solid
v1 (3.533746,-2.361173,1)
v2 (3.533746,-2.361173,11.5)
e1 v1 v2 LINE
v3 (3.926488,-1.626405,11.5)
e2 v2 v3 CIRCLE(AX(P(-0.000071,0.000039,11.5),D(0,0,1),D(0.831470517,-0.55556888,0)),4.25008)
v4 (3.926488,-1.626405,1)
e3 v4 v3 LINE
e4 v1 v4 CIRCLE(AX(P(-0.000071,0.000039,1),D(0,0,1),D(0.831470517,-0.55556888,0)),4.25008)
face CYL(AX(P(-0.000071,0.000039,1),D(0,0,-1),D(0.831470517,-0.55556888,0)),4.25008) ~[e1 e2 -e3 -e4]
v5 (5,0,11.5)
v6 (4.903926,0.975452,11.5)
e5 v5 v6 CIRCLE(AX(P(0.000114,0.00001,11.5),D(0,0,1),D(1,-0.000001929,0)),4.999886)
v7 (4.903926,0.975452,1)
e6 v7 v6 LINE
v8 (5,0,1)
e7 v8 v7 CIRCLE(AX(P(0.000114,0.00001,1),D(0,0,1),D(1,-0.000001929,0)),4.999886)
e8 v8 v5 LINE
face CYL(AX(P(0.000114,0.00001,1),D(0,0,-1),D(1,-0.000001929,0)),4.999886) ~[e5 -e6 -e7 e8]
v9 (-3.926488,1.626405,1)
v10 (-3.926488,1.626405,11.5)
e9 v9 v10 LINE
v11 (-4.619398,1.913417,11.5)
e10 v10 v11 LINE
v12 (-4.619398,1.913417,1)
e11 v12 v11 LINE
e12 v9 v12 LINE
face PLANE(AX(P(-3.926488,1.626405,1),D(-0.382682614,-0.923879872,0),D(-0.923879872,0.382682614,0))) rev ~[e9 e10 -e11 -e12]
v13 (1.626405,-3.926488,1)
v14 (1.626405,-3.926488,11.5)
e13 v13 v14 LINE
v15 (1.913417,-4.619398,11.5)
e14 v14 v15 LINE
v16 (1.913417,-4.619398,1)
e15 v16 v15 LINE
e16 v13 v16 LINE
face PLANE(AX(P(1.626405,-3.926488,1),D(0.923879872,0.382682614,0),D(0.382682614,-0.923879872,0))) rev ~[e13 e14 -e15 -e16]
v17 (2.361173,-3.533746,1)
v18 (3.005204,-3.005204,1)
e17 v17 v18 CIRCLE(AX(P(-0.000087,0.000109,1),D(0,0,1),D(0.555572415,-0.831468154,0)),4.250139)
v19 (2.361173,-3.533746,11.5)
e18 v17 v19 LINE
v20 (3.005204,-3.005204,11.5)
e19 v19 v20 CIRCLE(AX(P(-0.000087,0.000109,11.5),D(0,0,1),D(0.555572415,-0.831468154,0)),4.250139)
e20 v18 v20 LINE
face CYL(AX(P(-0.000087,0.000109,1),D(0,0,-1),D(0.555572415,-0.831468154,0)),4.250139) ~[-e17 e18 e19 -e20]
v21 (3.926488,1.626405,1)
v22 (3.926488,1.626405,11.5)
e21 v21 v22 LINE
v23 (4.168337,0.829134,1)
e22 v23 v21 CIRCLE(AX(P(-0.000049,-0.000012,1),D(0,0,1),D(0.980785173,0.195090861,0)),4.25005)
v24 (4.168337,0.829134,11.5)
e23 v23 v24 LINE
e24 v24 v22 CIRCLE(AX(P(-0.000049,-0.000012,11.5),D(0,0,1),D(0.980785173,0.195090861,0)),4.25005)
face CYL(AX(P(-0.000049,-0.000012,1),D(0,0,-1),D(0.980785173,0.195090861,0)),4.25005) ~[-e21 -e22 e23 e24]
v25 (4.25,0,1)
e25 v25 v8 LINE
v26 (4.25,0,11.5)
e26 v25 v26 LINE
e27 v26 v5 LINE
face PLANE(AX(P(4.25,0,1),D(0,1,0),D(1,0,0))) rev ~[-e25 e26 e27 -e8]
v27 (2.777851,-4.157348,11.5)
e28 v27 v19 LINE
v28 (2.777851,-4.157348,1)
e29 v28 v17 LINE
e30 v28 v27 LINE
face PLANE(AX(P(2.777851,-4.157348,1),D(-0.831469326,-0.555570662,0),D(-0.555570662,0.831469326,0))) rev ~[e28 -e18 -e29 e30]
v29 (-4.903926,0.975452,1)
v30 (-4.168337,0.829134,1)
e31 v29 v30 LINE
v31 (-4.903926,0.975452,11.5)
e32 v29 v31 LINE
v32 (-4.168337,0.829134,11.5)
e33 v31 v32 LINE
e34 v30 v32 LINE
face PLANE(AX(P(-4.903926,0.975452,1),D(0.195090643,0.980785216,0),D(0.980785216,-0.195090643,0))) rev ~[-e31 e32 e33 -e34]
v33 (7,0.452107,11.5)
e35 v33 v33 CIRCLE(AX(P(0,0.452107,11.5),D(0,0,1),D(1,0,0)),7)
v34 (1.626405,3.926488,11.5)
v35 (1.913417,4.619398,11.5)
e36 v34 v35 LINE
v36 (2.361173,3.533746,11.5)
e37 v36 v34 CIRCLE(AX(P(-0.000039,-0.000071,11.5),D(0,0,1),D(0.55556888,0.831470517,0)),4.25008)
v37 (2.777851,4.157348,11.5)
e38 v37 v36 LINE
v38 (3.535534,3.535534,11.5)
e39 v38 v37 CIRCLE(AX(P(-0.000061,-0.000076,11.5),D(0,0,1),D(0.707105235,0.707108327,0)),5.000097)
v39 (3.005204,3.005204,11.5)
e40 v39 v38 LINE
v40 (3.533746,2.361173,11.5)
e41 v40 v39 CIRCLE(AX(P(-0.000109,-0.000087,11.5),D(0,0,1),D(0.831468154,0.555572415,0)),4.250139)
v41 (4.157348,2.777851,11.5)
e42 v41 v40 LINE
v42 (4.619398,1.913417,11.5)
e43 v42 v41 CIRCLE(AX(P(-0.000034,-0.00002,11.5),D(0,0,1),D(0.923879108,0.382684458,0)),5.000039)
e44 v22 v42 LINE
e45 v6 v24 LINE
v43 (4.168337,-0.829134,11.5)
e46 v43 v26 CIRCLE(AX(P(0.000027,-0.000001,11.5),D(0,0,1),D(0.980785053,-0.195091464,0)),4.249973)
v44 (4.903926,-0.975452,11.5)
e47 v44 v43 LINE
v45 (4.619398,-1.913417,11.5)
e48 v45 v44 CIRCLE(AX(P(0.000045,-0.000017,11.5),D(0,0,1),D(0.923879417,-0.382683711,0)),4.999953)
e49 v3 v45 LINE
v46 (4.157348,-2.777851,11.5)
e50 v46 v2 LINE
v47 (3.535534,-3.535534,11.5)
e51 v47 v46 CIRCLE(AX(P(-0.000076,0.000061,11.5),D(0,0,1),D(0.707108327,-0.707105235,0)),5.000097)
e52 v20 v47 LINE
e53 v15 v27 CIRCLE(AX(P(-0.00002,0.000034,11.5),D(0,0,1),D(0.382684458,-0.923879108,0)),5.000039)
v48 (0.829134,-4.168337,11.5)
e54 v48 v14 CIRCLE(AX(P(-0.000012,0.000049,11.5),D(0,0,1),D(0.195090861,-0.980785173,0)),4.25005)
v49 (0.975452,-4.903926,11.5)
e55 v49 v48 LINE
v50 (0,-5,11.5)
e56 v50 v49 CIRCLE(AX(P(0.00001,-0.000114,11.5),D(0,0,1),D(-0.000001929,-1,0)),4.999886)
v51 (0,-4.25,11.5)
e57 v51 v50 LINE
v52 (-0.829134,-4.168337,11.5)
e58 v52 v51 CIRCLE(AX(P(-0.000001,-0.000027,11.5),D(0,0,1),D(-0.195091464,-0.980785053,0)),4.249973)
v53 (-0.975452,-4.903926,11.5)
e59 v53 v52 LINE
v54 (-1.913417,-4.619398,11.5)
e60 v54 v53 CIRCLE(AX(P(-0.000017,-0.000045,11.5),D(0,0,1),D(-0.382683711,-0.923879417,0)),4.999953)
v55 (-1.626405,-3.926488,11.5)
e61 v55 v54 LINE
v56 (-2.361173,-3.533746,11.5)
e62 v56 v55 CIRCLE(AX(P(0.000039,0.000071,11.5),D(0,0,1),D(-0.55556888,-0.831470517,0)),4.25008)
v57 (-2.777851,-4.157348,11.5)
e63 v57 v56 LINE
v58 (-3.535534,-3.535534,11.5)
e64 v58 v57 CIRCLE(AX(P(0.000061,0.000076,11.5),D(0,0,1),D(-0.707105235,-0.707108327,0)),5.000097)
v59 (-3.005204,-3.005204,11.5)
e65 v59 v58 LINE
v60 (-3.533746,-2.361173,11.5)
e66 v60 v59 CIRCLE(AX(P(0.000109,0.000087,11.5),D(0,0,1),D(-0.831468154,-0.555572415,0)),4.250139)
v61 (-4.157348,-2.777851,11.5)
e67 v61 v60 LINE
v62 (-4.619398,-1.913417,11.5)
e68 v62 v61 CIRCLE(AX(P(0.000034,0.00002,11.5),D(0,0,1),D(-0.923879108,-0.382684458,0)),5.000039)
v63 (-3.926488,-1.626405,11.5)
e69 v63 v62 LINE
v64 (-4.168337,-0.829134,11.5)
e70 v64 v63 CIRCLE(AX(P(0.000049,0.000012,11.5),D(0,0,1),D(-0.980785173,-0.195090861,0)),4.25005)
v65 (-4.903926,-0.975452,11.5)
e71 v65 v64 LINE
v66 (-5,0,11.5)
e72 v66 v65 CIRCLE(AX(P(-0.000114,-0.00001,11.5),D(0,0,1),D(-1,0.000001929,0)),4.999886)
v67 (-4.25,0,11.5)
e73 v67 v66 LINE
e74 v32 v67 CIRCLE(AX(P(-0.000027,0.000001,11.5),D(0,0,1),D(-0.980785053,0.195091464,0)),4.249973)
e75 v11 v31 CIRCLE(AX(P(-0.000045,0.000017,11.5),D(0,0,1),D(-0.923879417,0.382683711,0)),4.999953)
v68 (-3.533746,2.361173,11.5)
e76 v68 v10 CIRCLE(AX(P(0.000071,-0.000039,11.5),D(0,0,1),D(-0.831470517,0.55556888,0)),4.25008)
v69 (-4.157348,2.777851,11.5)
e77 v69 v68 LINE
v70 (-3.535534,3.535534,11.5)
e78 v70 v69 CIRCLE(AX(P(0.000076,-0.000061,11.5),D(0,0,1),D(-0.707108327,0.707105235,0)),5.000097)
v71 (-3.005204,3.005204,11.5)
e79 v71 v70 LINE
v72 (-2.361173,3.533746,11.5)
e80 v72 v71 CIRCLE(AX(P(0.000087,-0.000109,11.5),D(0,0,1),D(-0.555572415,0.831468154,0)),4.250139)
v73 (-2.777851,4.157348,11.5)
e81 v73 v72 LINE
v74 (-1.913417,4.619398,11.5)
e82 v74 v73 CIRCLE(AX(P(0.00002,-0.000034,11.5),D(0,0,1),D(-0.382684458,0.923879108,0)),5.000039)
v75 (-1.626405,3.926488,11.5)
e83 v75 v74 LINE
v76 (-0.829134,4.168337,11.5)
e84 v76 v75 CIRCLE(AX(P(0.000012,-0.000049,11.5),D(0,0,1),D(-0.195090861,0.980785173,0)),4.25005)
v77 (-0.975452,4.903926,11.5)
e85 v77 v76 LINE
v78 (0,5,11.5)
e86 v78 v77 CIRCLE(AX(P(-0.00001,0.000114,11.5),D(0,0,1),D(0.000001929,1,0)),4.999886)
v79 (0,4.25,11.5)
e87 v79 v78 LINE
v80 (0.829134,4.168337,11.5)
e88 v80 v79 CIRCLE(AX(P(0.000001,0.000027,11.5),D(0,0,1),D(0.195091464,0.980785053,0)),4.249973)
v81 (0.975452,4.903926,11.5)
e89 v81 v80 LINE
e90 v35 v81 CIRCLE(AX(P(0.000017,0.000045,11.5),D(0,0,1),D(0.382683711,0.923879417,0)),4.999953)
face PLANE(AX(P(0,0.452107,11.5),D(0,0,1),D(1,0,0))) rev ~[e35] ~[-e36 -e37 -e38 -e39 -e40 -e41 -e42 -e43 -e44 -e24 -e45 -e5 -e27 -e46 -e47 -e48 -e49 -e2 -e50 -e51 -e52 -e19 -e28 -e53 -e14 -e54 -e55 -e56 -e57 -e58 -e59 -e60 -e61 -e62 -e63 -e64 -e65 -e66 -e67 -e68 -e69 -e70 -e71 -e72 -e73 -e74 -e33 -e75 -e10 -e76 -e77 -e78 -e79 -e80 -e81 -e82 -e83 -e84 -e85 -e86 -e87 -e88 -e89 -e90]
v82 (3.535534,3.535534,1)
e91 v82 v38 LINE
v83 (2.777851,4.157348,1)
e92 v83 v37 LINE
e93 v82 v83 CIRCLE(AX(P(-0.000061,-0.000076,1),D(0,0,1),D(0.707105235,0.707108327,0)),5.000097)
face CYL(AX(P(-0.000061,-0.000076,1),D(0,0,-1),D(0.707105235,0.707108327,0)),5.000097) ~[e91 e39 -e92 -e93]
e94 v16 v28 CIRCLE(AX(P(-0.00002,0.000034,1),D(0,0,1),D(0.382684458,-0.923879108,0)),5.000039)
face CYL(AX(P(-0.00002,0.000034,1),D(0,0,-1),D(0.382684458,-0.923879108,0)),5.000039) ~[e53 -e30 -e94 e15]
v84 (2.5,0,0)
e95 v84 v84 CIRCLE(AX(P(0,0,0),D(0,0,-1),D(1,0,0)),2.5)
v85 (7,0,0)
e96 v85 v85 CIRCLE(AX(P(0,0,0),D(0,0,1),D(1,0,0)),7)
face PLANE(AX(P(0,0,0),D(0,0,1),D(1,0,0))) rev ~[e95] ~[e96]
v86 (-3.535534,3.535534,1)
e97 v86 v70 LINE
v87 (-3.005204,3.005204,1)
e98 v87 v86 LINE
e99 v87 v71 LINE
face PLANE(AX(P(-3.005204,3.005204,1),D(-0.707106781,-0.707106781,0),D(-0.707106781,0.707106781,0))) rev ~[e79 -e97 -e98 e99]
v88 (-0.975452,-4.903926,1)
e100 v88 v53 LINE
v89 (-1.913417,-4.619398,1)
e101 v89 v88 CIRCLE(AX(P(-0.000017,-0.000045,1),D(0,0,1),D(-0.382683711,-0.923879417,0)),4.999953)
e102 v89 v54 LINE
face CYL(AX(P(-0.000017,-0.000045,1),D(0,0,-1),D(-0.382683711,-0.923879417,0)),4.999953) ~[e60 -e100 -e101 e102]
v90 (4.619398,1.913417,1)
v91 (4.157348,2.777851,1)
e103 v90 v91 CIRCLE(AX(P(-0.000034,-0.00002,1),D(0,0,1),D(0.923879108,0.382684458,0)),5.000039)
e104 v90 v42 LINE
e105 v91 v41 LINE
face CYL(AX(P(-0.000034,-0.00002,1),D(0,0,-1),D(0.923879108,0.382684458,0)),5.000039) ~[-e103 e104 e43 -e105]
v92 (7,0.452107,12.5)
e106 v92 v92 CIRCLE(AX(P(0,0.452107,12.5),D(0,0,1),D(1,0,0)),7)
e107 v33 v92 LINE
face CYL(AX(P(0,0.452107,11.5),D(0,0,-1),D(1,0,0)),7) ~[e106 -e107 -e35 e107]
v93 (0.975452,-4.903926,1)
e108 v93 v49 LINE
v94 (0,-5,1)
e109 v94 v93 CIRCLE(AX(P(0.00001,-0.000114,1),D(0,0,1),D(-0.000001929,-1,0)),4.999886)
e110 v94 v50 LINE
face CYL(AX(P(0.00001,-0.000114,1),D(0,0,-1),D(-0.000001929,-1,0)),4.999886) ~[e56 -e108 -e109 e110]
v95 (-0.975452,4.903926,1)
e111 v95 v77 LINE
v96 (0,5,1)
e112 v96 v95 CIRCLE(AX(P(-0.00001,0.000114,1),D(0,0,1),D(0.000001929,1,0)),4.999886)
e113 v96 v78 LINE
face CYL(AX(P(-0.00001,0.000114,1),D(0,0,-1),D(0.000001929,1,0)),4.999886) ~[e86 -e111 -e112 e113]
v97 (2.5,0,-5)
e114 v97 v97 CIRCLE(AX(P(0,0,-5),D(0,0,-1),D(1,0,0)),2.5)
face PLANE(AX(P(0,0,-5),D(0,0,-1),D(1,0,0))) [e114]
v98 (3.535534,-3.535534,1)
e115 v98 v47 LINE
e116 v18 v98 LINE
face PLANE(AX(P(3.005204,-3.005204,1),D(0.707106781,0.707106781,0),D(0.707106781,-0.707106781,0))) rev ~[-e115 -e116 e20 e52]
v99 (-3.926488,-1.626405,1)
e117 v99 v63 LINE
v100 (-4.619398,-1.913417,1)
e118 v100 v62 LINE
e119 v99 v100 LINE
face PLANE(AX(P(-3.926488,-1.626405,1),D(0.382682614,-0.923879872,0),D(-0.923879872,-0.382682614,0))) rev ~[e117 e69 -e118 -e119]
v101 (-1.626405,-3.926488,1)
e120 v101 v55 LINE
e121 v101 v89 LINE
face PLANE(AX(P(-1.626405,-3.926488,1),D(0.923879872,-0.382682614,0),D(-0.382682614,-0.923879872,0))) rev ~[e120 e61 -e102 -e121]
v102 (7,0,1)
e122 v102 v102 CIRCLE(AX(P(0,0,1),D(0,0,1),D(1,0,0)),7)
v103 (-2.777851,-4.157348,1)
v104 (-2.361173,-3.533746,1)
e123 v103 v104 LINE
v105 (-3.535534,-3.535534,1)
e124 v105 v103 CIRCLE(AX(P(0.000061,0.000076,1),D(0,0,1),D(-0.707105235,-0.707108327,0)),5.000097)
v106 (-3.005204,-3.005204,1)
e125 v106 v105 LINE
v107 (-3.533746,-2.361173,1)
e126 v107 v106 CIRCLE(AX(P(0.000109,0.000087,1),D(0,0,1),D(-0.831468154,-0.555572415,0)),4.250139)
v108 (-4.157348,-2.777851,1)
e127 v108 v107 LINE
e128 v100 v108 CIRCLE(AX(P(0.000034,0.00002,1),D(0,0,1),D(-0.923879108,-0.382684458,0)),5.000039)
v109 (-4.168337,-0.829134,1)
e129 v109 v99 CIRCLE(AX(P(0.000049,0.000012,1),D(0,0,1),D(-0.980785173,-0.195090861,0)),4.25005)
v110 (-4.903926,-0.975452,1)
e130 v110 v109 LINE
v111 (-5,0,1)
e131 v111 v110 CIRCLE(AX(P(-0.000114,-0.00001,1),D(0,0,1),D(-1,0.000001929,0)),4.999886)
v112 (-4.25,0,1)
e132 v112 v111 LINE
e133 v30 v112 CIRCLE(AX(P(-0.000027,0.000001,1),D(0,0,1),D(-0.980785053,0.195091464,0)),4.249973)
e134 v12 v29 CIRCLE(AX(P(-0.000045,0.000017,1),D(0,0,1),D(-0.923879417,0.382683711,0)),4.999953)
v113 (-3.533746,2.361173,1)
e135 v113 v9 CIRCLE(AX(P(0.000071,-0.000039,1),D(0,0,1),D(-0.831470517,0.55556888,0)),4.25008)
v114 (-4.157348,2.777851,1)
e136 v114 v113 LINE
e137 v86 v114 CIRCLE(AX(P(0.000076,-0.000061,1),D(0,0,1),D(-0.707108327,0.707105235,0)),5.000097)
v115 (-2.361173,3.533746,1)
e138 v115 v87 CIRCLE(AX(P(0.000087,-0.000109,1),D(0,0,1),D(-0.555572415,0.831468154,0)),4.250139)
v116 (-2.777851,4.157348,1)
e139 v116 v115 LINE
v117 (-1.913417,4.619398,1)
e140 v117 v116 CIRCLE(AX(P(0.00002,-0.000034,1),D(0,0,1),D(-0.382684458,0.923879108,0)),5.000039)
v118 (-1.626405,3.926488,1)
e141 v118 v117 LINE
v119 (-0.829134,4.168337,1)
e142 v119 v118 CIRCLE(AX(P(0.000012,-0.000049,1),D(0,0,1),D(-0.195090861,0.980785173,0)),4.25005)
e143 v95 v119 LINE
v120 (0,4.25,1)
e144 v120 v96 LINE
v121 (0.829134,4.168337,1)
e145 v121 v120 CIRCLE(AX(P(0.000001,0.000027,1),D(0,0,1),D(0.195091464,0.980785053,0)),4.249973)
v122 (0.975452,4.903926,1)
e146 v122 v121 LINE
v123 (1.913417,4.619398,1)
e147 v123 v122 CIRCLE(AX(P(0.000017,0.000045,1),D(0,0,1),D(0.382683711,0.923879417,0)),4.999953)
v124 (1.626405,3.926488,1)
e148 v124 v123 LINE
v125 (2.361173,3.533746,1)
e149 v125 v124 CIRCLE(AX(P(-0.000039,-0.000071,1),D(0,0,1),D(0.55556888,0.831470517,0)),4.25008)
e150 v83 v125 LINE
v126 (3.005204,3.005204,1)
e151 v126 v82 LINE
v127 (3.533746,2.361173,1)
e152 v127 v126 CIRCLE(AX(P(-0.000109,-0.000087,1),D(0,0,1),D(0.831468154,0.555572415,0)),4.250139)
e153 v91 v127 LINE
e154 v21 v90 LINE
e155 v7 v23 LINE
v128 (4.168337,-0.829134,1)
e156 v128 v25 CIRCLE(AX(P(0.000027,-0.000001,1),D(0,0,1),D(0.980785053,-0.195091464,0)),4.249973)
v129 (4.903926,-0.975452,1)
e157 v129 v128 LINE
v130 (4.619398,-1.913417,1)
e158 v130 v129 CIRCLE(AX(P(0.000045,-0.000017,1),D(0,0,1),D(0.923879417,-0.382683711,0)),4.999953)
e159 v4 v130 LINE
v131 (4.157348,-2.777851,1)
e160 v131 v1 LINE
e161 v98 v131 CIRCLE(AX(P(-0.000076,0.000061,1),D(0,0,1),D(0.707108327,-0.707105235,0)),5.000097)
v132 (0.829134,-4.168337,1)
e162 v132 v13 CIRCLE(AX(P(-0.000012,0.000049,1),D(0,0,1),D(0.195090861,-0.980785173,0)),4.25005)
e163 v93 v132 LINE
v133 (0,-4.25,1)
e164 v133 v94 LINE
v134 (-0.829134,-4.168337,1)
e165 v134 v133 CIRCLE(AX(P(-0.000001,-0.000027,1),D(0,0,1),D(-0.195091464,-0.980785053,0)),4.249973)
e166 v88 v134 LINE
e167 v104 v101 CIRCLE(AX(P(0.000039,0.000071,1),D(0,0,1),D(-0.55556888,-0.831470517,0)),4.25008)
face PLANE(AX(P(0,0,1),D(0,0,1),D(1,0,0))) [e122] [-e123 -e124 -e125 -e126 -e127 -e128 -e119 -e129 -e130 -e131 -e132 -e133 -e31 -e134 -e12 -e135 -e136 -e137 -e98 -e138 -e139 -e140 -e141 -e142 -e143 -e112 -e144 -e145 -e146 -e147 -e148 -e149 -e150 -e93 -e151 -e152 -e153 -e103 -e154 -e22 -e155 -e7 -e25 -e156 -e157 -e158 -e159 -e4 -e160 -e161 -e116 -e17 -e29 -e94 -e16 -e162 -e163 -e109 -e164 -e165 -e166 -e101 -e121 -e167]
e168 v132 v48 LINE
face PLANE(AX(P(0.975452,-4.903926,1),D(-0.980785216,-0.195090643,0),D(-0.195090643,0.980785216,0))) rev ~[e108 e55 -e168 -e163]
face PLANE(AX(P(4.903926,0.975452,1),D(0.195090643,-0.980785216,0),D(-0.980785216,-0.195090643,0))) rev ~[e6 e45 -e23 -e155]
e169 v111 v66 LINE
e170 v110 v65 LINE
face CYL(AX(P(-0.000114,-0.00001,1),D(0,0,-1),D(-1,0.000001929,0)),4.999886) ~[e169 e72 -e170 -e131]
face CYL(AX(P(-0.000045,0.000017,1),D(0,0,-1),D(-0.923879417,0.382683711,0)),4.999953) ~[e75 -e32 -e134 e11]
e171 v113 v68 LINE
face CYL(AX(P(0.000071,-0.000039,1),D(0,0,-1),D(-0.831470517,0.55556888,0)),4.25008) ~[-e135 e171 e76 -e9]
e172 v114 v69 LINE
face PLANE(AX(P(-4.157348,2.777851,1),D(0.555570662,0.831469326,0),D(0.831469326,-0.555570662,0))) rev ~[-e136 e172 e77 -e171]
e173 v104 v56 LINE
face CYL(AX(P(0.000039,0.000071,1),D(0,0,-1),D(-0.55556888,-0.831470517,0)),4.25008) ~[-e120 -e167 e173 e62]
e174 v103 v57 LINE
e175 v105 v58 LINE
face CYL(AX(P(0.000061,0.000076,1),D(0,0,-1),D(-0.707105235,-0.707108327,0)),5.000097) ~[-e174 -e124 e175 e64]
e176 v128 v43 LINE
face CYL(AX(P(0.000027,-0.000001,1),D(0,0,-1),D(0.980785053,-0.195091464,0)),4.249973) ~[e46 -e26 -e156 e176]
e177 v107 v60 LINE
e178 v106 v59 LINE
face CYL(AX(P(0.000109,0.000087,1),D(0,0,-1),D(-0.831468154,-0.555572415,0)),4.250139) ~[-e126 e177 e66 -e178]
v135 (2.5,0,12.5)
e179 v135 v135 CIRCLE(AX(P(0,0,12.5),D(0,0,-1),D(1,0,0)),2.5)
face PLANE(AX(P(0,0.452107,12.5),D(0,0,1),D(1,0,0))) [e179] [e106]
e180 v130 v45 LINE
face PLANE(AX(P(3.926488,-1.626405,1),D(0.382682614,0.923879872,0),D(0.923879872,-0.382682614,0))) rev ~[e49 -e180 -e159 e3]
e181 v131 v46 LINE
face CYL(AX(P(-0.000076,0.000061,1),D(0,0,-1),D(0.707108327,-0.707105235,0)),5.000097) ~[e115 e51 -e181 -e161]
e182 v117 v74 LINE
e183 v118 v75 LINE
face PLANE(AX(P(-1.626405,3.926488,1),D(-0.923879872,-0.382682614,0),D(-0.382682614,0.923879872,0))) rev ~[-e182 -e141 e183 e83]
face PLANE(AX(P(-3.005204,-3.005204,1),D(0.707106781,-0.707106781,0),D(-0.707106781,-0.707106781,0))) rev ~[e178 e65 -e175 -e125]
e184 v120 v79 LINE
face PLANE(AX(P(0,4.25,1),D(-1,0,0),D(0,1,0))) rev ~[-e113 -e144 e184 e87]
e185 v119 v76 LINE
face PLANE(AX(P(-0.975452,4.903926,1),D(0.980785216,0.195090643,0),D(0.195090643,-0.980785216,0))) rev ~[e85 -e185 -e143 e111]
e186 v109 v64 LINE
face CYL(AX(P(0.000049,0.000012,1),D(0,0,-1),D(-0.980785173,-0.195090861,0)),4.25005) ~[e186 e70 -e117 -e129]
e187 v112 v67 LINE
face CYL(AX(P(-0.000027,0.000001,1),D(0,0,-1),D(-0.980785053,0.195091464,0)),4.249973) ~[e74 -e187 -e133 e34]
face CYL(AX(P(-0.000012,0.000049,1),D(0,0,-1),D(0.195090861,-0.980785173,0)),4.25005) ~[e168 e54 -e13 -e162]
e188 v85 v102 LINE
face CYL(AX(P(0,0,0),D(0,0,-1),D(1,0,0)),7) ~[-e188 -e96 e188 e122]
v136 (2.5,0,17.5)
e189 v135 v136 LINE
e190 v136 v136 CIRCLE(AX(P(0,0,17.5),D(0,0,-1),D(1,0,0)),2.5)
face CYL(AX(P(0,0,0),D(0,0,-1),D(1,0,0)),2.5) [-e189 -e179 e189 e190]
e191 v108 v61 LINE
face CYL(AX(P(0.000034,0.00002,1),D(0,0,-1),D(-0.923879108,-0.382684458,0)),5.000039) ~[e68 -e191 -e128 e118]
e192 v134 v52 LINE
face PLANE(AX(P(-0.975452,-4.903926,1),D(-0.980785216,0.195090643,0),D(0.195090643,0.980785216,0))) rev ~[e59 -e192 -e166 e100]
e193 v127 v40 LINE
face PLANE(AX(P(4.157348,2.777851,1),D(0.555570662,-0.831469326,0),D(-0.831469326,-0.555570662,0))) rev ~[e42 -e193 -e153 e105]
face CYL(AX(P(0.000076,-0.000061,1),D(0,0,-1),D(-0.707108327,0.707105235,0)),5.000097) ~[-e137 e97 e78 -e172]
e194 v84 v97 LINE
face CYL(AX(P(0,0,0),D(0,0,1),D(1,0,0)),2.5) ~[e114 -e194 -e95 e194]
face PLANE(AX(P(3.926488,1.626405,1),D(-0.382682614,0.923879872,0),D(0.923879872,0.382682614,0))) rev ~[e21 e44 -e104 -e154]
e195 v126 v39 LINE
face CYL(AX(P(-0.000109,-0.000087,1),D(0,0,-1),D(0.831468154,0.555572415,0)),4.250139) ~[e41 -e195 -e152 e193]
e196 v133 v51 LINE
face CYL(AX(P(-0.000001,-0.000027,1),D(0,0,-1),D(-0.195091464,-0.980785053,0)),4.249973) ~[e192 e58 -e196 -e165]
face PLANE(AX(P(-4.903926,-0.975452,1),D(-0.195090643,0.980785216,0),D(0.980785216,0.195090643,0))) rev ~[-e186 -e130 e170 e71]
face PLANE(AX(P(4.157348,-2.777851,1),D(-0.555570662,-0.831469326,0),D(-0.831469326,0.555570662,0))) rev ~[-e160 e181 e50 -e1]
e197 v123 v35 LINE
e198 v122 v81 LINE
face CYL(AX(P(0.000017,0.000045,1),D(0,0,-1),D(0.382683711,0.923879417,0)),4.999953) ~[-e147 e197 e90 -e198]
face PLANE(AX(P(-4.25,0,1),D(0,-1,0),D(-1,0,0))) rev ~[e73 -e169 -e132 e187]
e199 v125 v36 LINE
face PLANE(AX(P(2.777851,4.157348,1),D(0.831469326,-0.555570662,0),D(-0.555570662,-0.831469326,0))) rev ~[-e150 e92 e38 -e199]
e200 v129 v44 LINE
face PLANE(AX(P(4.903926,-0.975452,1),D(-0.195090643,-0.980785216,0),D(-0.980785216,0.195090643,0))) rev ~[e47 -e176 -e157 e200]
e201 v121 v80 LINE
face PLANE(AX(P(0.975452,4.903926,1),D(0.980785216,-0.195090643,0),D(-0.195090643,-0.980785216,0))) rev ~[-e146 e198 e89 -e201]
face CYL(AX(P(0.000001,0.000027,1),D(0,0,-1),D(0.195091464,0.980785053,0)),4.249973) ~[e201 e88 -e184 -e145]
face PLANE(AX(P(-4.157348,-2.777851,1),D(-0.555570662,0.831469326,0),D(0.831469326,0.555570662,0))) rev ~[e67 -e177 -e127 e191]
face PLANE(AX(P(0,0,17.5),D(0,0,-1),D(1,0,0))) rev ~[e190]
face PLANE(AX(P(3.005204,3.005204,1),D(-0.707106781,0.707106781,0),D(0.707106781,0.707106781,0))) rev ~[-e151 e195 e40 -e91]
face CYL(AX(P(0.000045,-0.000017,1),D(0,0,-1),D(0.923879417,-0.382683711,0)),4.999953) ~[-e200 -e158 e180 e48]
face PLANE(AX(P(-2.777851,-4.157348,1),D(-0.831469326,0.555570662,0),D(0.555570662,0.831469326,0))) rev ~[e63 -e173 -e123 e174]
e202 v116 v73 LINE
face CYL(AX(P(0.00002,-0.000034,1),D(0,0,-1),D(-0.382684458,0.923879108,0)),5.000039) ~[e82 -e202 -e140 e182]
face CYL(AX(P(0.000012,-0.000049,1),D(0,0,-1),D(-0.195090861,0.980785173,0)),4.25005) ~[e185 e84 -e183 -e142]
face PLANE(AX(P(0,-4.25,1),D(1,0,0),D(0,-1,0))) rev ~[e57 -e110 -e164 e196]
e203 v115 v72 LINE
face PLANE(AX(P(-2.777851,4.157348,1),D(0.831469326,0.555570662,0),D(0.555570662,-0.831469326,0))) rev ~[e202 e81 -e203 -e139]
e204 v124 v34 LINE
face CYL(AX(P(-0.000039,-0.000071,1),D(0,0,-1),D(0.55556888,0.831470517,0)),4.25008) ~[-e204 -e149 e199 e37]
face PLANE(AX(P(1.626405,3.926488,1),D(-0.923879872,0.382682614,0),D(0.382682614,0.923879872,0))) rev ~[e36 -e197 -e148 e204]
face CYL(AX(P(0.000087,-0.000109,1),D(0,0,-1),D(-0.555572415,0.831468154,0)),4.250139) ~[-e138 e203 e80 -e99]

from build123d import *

# Parameters (mm, degrees)
F0_R          = 7
F1_DEPTH      = 1
F3_DEPTH      = 10.5
F4_R          = 7
F5_DEPTH      = 1
F6_R          = 2.5
F7_DEPTH      = 5
F7_DEPTH_BACK = 17.5


with BuildPart() as f1:
    # F0 (on Top) → F1 (new body)
    with BuildSketch(Plane.XY):
        Circle(F0_R)
    extrude(amount=F1_DEPTH)

    # F2 (on face) → F3 (join)
    with BuildSketch(Plane.XY.offset(1)):
        with BuildLine():
            ThreePointArc((0.829134, 4.168337), (0.416573, 4.229535), (0, 4.25))
            Line((0, 4.25), (0, 5))
            ThreePointArc((0, 5), (-0.490086, 4.975924), (-0.975452, 4.903926))
            Line((-0.975452, 4.903926), (-0.829134, 4.168337))
            ThreePointArc((-0.829134, 4.168337), (-1.23371, 4.066996), (-1.626405, 3.926488))
            Line((-1.626405, 3.926488), (-1.913417, 4.619398))
            ThreePointArc((-1.913417, 4.619398), (-2.356984, 4.409606), (-2.777851, 4.157348))
            Line((-2.777851, 4.157348), (-2.361173, 3.533746))
            ThreePointArc((-2.361173, 3.533746), (-2.696171, 3.285294), (-3.005204, 3.005204))
            Line((-3.005204, 3.005204), (-3.535534, 3.535534))
            ThreePointArc((-3.535534, 3.535534), (-3.865052, 3.171966), (-4.157348, 2.777851))
            Line((-4.157348, 2.777851), (-3.533746, 2.361173))
            ThreePointArc((-3.533746, 2.361173), (-3.748165, 2.003436), (-3.926488, 1.626405))
            Line((-3.926488, 1.626405), (-4.619398, 1.913417))
            ThreePointArc((-4.619398, 1.913417), (-4.784702, 1.451423), (-4.903926, 0.975452))
            Line((-4.903926, 0.975452), (-4.168337, 0.829134))
            ThreePointArc((-4.168337, 0.829134), (-4.229535, 0.416573), (-4.25, 0))
            Line((-4.25, 0), (-5, 0))
            ThreePointArc((-5, 0), (-4.975924, -0.490086), (-4.903926, -0.975452))
            Line((-4.903926, -0.975452), (-4.168337, -0.829134))
            ThreePointArc((-4.168337, -0.829134), (-4.066996, -1.23371), (-3.926488, -1.626405))
            Line((-3.926488, -1.626405), (-4.619398, -1.913417))
            ThreePointArc((-4.619398, -1.913417), (-4.409606, -2.356984), (-4.157348, -2.777851))
            Line((-4.157348, -2.777851), (-3.533746, -2.361173))
            ThreePointArc((-3.533746, -2.361173), (-3.285294, -2.696171), (-3.005204, -3.005204))
            Line((-3.005204, -3.005204), (-3.535534, -3.535534))
            ThreePointArc((-3.535534, -3.535534), (-3.171966, -3.865052), (-2.777851, -4.157348))
            Line((-2.777851, -4.157348), (-2.361173, -3.533746))
            ThreePointArc((-2.361173, -3.533746), (-2.003436, -3.748165), (-1.626405, -3.926488))
            Line((-1.626405, -3.926488), (-1.913417, -4.619398))
            ThreePointArc((-1.913417, -4.619398), (-1.451423, -4.784702), (-0.975452, -4.903926))
            Line((-0.975452, -4.903926), (-0.829134, -4.168337))
            ThreePointArc((-0.829134, -4.168337), (-0.416573, -4.229535), (0, -4.25))
            Line((0, -4.25), (0, -5))
            ThreePointArc((0, -5), (0.490086, -4.975924), (0.975452, -4.903926))
            Line((0.975452, -4.903926), (0.829134, -4.168337))
            ThreePointArc((0.829134, -4.168337), (1.23371, -4.066996), (1.626405, -3.926488))
            Line((1.626405, -3.926488), (1.913417, -4.619398))
            ThreePointArc((1.913417, -4.619398), (2.356984, -4.409606), (2.777851, -4.157348))
            Line((2.777851, -4.157348), (2.361173, -3.533746))
            ThreePointArc((2.361173, -3.533746), (2.696171, -3.285294), (3.005204, -3.005204))
            Line((3.005204, -3.005204), (3.535534, -3.535534))
            ThreePointArc((3.535534, -3.535534), (3.865052, -3.171966), (4.157348, -2.777851))
            Line((4.157348, -2.777851), (3.533746, -2.361173))
            ThreePointArc((3.533746, -2.361173), (3.748165, -2.003436), (3.926488, -1.626405))
            Line((3.926488, -1.626405), (4.619398, -1.913417))
            ThreePointArc((4.619398, -1.913417), (4.784702, -1.451423), (4.903926, -0.975452))
            Line((4.903926, -0.975452), (4.168337, -0.829134))
            ThreePointArc((4.168337, -0.829134), (4.229535, -0.416573), (4.25, 0))
            Line((4.25, 0), (5, 0))
            ThreePointArc((5, 0), (4.975924, 0.490086), (4.903926, 0.975452))
            Line((4.903926, 0.975452), (4.168337, 0.829134))
            ThreePointArc((4.168337, 0.829134), (4.066996, 1.23371), (3.926488, 1.626405))
            Line((3.926488, 1.626405), (4.619398, 1.913417))
            ThreePointArc((4.619398, 1.913417), (4.409606, 2.356984), (4.157348, 2.777851))
            Line((4.157348, 2.777851), (3.533746, 2.361173))
            ThreePointArc((3.533746, 2.361173), (3.285294, 2.696171), (3.005204, 3.005204))
            Line((3.005204, 3.005204), (3.535534, 3.535534))
            ThreePointArc((3.535534, 3.535534), (3.171966, 3.865052), (2.777851, 4.157348))
            Line((2.777851, 4.157348), (2.361173, 3.533746))
            ThreePointArc((2.361173, 3.533746), (2.003436, 3.748165), (1.626405, 3.926488))
            Line((1.626405, 3.926488), (1.913417, 4.619398))
            ThreePointArc((1.913417, 4.619398), (1.451423, 4.784702), (0.975452, 4.903926))
            Line((0.975452, 4.903926), (0.829134, 4.168337))
        make_face()
    extrude(amount=F3_DEPTH)

    # F4 (on face) → F5 (join)
    with BuildSketch(Plane.XY.offset(11.5)):
        with Locations((0, 0.452107)):
            Circle(F4_R)
    extrude(amount=F5_DEPTH)

    # F6 (on face) → F7 (join, two sides)
    with BuildSketch(Plane(origin=(0, 0, 0), x_dir=(1, 0, 0), z_dir=(0, 0, -1))) as f7_sk:
        Circle(F6_R)
    extrude(amount=F7_DEPTH)
    extrude(f7_sk.sketch, amount=-F7_DEPTH_BACK)


solid = f1.part
